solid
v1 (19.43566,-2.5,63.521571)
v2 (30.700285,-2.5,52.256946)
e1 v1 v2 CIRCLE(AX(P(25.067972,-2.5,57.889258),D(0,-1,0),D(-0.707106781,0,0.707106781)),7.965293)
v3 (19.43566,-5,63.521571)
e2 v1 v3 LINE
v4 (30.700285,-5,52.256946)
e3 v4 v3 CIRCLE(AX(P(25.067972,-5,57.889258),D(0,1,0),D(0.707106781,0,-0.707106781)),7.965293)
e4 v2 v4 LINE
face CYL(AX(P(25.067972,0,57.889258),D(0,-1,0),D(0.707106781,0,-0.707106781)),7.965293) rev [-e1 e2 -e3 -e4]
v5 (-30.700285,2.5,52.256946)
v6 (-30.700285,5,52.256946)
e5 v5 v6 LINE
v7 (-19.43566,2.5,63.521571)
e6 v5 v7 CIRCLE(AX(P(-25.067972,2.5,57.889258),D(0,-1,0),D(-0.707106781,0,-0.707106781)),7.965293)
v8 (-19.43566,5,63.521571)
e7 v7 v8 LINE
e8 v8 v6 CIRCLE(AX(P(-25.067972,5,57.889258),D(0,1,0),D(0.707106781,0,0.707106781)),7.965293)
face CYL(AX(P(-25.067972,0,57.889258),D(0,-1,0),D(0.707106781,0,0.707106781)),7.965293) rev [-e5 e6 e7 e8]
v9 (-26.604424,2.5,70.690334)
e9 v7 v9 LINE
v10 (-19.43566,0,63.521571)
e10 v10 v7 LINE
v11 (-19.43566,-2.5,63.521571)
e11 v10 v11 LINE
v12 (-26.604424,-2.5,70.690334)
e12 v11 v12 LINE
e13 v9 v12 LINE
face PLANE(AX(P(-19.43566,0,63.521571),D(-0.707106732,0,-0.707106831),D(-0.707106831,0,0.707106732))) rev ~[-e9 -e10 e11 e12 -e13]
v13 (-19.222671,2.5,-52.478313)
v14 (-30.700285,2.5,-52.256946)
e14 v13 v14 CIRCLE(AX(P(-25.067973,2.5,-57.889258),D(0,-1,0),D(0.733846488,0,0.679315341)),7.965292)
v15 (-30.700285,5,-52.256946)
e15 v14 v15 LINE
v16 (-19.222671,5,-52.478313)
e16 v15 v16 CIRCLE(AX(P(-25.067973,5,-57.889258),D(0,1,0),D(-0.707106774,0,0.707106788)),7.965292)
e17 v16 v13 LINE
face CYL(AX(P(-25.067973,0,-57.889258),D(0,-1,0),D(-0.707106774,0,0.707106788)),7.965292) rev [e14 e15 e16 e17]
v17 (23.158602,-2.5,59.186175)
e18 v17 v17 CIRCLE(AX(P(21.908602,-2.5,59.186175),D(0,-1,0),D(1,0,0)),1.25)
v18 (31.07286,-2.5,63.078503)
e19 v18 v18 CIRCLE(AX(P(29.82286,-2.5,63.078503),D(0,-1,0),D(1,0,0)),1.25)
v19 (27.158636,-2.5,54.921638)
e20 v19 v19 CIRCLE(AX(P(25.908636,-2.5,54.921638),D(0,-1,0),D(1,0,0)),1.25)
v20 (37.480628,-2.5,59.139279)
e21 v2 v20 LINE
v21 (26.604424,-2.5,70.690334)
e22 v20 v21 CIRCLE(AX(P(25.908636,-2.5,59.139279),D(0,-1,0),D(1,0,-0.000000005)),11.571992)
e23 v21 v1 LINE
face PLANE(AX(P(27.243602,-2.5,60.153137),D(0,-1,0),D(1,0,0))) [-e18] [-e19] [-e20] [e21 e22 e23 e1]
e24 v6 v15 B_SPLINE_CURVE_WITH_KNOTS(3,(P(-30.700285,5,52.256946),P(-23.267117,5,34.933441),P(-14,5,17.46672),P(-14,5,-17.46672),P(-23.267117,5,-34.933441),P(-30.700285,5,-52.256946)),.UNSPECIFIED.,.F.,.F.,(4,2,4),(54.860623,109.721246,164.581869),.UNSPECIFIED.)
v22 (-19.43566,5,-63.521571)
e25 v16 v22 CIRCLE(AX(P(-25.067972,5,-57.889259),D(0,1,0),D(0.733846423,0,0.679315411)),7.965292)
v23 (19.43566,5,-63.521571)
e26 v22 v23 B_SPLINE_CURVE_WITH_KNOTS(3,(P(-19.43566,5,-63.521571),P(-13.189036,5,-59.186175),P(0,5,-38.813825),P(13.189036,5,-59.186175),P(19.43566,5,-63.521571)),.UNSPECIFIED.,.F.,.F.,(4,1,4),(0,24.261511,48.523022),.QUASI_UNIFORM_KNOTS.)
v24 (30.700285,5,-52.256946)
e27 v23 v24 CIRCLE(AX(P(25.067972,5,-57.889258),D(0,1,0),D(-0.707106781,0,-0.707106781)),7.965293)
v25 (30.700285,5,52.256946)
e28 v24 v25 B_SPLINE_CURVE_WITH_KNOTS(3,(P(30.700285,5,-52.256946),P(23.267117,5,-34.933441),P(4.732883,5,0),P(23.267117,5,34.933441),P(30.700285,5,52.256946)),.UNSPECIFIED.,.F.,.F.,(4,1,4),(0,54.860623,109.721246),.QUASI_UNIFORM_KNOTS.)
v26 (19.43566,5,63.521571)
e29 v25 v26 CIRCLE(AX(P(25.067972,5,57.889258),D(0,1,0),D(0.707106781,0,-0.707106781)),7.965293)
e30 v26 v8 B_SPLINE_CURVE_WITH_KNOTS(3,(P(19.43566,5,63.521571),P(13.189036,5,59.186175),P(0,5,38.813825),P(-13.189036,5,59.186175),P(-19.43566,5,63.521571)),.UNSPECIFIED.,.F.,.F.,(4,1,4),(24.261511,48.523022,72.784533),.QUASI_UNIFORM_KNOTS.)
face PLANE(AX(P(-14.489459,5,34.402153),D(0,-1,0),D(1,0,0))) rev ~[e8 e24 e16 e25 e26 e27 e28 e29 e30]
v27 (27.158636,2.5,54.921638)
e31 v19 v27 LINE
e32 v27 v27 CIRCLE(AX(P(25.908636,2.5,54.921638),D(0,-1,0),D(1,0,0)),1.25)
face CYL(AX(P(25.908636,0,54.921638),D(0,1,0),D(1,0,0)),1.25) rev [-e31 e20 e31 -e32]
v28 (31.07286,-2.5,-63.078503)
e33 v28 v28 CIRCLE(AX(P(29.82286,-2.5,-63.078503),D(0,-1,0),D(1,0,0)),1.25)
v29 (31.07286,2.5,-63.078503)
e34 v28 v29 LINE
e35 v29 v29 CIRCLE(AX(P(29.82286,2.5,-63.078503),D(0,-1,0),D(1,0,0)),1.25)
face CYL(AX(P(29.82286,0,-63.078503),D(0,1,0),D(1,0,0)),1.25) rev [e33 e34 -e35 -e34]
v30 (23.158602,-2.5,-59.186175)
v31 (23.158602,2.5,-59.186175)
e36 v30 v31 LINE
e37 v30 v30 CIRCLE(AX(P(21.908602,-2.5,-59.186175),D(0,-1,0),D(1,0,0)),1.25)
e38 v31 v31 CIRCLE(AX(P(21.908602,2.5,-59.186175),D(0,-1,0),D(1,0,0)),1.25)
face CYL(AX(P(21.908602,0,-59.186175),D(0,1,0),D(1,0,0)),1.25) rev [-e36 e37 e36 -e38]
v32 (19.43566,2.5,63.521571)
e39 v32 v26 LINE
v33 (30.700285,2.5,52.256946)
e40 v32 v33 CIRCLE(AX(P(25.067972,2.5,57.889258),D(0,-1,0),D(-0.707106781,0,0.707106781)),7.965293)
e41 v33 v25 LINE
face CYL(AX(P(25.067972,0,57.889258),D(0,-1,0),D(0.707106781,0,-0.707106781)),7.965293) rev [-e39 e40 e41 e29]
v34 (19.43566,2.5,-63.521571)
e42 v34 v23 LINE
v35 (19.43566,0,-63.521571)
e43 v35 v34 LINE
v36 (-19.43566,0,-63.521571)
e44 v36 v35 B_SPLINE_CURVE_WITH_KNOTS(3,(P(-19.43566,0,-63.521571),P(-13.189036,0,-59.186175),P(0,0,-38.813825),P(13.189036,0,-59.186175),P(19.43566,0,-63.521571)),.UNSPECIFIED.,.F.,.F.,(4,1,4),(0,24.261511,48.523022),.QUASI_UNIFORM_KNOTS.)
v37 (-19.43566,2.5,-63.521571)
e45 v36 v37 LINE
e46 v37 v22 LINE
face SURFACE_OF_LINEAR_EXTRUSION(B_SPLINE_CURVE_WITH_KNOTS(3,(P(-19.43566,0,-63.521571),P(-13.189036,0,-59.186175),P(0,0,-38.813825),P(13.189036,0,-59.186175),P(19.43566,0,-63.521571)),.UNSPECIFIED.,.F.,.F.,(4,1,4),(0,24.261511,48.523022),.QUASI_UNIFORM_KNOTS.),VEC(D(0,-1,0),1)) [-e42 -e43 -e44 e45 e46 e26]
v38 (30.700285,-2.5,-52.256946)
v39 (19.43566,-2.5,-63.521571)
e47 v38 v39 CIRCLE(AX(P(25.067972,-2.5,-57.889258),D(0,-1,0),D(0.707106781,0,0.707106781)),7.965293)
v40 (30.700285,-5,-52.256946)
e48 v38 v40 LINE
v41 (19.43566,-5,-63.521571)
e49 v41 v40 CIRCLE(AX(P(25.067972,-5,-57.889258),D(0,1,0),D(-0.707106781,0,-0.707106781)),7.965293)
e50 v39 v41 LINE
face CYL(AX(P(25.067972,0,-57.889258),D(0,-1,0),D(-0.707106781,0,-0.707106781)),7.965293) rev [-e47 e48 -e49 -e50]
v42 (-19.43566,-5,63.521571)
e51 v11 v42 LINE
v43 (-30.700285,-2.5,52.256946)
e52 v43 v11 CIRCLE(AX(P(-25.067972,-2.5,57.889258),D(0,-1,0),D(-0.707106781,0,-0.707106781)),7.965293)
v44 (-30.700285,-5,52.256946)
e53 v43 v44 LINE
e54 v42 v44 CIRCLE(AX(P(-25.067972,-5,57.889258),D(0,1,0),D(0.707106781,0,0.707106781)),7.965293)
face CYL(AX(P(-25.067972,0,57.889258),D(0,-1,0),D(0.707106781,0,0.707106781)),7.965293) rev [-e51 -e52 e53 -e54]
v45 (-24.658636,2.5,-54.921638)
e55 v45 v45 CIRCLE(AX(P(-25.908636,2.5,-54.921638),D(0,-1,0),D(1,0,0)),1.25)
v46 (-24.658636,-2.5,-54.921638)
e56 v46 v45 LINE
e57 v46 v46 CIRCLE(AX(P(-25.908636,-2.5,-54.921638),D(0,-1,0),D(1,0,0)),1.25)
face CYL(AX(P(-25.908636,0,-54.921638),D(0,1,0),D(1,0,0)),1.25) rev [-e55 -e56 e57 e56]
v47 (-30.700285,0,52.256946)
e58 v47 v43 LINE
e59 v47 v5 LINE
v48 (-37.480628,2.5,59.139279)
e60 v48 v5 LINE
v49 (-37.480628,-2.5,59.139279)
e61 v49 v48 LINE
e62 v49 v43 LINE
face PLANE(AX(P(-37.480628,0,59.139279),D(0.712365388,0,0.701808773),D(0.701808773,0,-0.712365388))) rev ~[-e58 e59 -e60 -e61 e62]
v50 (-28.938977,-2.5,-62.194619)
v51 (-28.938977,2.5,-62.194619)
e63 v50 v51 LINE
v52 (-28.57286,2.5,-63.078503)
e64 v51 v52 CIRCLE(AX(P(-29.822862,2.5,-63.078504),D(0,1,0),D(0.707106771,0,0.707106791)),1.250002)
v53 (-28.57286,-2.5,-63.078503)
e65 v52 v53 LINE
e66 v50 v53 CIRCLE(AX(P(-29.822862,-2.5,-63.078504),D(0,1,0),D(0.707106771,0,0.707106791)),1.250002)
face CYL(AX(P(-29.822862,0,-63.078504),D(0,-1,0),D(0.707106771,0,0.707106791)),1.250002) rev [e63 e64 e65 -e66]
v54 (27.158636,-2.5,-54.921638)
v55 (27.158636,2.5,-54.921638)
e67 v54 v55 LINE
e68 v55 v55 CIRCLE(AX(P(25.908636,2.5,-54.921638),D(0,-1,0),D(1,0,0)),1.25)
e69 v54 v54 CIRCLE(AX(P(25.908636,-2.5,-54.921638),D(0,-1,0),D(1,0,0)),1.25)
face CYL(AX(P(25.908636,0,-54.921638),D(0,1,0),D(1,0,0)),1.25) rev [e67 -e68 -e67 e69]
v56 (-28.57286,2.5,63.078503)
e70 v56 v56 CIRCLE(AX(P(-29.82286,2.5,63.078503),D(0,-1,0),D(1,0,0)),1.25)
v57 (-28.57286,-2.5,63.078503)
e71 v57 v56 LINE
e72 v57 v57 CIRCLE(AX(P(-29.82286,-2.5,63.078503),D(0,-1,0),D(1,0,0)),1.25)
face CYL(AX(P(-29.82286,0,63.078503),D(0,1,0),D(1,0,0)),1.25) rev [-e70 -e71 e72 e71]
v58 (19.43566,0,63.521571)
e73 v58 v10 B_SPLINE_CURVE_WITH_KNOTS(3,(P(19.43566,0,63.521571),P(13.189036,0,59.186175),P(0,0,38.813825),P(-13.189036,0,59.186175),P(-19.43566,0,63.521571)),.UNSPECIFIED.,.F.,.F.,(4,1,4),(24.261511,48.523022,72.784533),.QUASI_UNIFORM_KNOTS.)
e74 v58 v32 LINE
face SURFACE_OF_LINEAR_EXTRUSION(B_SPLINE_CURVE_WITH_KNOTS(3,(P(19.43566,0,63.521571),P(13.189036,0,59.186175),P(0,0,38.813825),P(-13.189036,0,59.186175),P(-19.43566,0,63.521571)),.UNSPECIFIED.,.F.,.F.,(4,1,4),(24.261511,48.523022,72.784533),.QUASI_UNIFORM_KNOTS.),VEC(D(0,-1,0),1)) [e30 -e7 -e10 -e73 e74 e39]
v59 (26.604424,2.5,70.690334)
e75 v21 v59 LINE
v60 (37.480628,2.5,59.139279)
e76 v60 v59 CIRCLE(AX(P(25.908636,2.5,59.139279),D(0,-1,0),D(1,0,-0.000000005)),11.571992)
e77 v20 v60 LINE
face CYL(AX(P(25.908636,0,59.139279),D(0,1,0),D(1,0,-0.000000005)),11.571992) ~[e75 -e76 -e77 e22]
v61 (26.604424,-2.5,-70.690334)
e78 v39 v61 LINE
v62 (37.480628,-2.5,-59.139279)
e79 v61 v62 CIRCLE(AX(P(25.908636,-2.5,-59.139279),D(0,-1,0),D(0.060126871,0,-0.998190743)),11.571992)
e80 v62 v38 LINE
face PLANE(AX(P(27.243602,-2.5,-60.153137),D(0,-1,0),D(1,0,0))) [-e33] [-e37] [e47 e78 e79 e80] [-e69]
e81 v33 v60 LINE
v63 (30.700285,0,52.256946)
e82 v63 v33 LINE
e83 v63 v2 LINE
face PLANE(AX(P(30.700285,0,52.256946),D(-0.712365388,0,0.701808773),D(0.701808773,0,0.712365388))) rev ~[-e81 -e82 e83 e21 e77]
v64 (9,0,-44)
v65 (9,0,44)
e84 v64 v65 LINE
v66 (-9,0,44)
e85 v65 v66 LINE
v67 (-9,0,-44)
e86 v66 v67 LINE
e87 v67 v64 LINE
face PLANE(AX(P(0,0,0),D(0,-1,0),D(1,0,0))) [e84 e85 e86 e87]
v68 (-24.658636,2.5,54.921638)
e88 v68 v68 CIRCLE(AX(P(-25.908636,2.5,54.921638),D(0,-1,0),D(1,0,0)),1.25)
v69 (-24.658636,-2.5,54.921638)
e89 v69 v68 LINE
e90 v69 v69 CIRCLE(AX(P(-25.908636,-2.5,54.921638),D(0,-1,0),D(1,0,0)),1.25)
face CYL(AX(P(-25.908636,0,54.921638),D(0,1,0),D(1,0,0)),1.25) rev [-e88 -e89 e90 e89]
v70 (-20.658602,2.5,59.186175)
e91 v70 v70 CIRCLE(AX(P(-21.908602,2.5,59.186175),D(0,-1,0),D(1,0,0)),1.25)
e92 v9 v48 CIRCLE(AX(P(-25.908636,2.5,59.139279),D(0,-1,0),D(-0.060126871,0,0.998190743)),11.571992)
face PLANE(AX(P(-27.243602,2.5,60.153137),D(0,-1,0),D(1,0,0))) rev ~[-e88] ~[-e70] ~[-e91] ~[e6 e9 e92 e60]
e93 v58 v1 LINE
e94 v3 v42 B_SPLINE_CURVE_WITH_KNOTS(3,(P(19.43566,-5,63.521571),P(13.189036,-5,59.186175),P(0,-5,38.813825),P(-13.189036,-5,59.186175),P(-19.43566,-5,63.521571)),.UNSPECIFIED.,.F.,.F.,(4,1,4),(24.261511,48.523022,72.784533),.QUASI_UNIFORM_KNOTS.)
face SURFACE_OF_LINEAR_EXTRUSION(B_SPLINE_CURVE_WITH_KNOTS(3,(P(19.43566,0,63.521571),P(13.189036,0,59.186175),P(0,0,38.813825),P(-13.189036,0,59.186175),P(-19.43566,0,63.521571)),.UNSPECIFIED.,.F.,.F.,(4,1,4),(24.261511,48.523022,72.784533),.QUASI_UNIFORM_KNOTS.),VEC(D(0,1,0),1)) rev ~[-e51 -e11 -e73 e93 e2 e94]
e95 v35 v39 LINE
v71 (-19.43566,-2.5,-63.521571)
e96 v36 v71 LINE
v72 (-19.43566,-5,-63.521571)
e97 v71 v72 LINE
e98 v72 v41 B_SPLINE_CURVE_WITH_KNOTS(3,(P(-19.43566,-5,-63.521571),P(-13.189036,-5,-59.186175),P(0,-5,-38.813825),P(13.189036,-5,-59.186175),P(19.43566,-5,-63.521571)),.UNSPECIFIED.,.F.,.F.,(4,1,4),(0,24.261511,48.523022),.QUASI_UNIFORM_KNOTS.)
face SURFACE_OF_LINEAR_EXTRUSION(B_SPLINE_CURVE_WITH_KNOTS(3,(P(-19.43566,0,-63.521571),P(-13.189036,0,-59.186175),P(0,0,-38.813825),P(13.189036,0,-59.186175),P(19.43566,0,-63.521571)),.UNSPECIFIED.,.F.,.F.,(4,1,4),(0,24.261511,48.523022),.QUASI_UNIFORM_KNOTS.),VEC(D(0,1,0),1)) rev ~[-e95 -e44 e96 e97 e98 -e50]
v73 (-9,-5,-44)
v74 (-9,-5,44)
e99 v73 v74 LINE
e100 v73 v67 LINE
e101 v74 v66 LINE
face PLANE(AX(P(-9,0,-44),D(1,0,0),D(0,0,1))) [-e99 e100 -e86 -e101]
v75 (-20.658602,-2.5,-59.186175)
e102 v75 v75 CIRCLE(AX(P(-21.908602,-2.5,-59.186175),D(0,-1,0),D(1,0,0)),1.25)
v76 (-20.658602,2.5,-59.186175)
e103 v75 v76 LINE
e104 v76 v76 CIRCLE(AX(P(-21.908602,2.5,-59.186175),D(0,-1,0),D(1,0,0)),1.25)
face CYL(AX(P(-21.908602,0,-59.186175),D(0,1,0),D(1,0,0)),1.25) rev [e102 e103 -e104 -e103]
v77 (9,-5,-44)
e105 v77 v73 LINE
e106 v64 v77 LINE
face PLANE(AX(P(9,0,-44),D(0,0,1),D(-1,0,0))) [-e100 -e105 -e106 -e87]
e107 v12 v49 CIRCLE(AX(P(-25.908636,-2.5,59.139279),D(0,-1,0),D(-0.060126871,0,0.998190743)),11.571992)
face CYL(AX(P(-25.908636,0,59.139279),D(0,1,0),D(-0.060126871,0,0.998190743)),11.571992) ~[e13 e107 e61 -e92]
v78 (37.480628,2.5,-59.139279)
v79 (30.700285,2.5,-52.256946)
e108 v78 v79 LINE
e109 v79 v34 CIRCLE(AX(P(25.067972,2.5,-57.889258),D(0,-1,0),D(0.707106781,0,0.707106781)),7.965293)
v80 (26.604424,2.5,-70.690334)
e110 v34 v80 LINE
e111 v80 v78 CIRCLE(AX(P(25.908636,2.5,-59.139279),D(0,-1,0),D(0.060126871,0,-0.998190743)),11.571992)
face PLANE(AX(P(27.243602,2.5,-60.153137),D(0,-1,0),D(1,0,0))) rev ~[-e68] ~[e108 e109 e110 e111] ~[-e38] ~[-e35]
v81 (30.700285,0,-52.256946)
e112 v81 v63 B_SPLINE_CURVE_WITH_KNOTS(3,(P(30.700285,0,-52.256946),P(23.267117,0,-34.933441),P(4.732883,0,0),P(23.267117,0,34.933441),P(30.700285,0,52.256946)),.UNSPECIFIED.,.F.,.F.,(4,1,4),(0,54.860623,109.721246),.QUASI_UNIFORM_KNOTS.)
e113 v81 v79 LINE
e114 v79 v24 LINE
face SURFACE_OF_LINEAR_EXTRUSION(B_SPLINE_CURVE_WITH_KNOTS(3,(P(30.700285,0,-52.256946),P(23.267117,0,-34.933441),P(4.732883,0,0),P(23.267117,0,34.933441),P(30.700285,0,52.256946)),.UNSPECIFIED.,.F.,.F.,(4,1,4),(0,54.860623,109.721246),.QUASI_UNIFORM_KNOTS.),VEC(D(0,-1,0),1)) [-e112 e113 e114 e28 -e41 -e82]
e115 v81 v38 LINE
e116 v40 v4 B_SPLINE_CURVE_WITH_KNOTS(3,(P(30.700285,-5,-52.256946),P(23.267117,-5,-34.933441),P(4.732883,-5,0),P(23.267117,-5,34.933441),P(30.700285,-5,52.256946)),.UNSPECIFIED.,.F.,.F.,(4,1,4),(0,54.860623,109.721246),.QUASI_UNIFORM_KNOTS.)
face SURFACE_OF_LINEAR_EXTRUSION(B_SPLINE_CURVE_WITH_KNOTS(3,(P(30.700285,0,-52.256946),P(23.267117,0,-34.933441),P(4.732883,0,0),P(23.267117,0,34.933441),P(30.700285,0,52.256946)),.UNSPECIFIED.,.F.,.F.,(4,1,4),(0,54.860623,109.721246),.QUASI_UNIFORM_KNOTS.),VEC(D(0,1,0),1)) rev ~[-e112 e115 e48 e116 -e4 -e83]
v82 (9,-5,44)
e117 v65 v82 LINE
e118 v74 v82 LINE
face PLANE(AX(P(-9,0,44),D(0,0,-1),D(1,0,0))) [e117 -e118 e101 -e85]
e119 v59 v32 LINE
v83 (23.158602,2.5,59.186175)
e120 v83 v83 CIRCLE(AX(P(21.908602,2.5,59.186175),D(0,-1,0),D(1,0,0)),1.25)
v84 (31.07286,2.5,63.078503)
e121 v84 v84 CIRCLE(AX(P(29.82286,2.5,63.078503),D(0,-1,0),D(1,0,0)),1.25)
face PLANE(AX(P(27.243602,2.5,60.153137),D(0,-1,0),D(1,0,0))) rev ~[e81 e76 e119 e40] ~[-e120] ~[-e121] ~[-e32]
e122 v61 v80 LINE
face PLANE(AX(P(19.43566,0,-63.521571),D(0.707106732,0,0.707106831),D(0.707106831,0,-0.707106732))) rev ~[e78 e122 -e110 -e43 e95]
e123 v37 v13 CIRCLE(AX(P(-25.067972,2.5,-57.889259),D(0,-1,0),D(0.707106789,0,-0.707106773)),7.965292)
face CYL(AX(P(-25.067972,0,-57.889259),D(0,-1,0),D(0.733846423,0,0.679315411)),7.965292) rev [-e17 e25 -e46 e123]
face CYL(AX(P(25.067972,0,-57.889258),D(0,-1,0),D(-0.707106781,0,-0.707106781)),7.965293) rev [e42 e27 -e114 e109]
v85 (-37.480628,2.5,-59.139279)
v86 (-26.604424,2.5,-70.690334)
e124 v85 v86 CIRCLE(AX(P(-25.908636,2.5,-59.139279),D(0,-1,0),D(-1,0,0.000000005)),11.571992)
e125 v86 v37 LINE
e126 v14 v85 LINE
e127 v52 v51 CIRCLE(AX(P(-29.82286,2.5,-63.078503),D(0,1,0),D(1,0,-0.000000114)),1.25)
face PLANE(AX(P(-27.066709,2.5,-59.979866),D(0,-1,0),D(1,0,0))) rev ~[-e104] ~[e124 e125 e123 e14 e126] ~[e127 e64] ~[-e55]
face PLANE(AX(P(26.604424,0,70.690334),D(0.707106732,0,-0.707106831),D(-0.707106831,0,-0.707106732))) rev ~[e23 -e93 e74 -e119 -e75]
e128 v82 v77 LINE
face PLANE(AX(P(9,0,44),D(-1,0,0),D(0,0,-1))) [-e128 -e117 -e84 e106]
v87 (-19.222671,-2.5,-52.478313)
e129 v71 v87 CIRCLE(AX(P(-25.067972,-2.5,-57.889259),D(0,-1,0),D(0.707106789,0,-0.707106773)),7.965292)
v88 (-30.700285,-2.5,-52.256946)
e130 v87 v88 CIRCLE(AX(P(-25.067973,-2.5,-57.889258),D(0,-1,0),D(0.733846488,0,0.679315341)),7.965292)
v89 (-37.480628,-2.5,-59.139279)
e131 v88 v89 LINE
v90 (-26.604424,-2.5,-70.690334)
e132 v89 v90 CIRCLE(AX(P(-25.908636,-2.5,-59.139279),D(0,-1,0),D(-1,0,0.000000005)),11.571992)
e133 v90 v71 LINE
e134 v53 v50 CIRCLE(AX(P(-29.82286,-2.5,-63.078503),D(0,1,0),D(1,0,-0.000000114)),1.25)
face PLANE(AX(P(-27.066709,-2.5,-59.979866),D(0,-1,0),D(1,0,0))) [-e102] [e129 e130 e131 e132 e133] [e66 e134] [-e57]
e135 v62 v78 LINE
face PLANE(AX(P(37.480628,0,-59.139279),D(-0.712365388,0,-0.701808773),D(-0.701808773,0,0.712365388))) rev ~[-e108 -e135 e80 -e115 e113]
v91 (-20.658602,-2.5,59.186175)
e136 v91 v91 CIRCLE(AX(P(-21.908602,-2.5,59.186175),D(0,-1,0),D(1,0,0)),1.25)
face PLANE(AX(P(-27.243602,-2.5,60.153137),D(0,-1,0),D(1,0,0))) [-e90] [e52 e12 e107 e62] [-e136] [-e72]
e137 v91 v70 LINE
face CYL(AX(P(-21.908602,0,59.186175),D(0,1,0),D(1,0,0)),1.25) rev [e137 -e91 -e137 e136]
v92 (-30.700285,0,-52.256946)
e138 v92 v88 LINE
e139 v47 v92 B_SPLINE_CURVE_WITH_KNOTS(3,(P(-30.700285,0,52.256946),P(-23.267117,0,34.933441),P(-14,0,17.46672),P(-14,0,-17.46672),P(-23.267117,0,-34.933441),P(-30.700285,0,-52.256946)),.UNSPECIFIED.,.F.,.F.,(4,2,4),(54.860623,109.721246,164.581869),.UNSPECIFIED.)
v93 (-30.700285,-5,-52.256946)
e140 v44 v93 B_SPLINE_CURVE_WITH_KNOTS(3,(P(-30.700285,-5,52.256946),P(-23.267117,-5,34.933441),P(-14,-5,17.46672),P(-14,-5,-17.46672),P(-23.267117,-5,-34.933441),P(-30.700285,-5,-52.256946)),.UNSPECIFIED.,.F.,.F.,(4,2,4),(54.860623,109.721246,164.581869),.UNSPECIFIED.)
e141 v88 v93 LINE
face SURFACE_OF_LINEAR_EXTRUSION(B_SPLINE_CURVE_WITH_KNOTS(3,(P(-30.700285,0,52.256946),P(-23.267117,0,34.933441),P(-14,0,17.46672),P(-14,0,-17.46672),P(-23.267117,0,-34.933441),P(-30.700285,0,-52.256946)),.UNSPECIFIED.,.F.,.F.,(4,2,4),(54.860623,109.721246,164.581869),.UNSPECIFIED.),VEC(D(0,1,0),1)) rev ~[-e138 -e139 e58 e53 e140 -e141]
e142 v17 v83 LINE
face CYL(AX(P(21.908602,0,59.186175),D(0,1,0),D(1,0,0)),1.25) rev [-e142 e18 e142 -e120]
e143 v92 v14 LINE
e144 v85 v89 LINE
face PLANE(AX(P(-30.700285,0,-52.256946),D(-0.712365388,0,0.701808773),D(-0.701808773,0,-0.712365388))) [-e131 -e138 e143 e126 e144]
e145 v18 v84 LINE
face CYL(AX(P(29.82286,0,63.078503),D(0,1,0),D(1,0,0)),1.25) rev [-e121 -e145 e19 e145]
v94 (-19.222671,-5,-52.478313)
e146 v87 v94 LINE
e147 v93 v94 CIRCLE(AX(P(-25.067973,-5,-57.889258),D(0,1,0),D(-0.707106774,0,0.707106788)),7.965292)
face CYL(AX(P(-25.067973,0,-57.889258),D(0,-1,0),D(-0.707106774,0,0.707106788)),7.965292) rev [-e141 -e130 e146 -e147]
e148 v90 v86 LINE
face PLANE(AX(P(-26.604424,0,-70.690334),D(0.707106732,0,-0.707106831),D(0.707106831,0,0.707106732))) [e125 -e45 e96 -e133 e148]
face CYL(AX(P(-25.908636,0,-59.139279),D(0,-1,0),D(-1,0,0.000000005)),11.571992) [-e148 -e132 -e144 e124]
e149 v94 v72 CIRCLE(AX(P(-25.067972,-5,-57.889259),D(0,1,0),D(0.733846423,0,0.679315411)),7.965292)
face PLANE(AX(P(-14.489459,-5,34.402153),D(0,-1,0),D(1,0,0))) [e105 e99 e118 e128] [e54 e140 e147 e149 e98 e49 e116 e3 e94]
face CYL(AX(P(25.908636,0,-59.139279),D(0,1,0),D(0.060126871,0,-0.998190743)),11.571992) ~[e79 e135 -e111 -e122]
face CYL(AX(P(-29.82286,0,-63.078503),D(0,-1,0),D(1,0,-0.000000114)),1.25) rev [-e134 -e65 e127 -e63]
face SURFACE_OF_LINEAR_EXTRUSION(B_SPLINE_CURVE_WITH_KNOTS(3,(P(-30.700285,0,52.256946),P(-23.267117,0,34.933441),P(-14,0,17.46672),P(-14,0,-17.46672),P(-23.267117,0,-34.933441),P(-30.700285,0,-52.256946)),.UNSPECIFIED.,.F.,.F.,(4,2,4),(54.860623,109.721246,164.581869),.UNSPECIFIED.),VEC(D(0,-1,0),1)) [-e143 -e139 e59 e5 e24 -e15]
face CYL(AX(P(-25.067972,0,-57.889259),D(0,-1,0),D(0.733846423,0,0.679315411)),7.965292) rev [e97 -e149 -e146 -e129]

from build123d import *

# Parameters (mm, degrees)
F1_DEPTH = 5
F2_DEPTH = 5
F0_R     = 1.25
F3_DEPTH = 2.5


with BuildPart() as f1:
    # F0 (on Front) → F1 (new body, symmetric)
    with BuildSketch(Plane.XZ):
        with BuildLine():
            Line((-9, 0), (-9, 44))
            Line((-9, 44), (0, 44))
            Line((0, 44), (0, 49))
            add(Edge.make_bspline(
                [(-19.43566, 63.521571), (-13.189036, 59.186175), (-6.594518, 49), (0, 49)],
                knots=[0, 0, 0, 0, 24.261511, 24.261511, 24.261511, 24.261511], degree=3))
            ThreePointArc((-19.43566, 63.521571), (-19.43566, 52.256946), (-30.700285, 52.256946))
            add(Edge.make_bspline(
                [(-14, 0), (-14, 17.46672), (-23.267117, 34.933441), (-30.700285, 52.256946)],
                knots=[54.860623, 54.860623, 54.860623, 54.860623, 109.721246, 109.721246, 109.721246, 109.721246], degree=3))
            Line((-14, 0), (-9, 0))
        make_face()
        with BuildLine():
            Line((0, 49), (0, 44))
            Line((0, 44), (9, 44))
            Line((9, 44), (9, -44))
            Line((9, -44), (-9, -44))
            Line((-9, -44), (-9, 0))
            Line((-9, 0), (-14, 0))
            add(Edge.make_bspline(
                [(-30.700285, -52.256946), (-23.267117, -34.933441), (-14, -17.46672), (-14, 0)],
                knots=[0, 0, 0, 0, 54.860623, 54.860623, 54.860623, 54.860623], degree=3))
            ThreePointArc((-30.700285, -52.256946), (-24.914376, -49.925447), (-19.222671, -52.478313))
            ThreePointArc((-19.222671, -52.478313), (-17.104161, -58.042855), (-19.43566, -63.521571))
            add(Edge.make_bspline(
                [(-19.43566, -63.521571), (-13.189036, -59.186175), (0, -38.813825), (13.189036, -59.186175), (19.43566, -63.521571)],
                knots=[0, 0, 0, 0, 24.261511, 48.523022, 48.523022, 48.523022, 48.523022], degree=3))
            ThreePointArc((19.43566, -63.521571), (19.43566, -52.256946), (30.700285, -52.256946))
            add(Edge.make_bspline(
                [(30.700285, -52.256946), (23.267117, -34.933441), (4.732883, 0), (23.267117, 34.933441), (30.700285, 52.256946)],
                knots=[0, 0, 0, 0, 54.860623, 109.721246, 109.721246, 109.721246, 109.721246], degree=3))
            ThreePointArc((30.700285, 52.256946), (19.43566, 52.256946), (19.43566, 63.521571))
            add(Edge.make_bspline(
                [(0, 49), (6.594518, 49), (13.189036, 59.186175), (19.43566, 63.521571)],
                knots=[24.261511, 24.261511, 24.261511, 24.261511, 48.523022, 48.523022, 48.523022, 48.523022], degree=3))
        make_face()
    extrude(amount=F1_DEPTH, both=True)

    # F0 (on Front) → F2 (join)
    with BuildSketch(Plane.XZ):
        Polygon((0, 44), (-9, 44), (-9, 0), (-9, -44), (9, -44), (9, 44), align=None)
    extrude(amount=-F2_DEPTH)

    # F0 (on Front) → F3 (join, symmetric)
    with BuildSketch(Plane.XZ):
        with BuildLine():
            ThreePointArc((-30.700285, 52.256946), (-19.43566, 52.256946), (-19.43566, 63.521571))
            Line((-19.43566, 63.521571), (-26.604424, 70.690334))
            ThreePointArc((-26.604424, 70.690334), (-34.333678, 67.072101), (-37.480628, 59.139279))
            Line((-37.480628, 59.139279), (-30.700285, 52.256946))
        make_face()
        with Locations((-29.82286, 63.078503)):
            Circle(F0_R, mode=Mode.SUBTRACT)
        with Locations((-25.908636, 54.921638)):
            Circle(F0_R, mode=Mode.SUBTRACT)
        with Locations((-21.908602, 59.186175)):
            Circle(F0_R, mode=Mode.SUBTRACT)
        with BuildLine():
            Line((26.604424, 70.690334), (19.43566, 63.521571))
            ThreePointArc((19.43566, 63.521571), (19.43566, 52.256946), (30.700285, 52.256946))
            Line((30.700285, 52.256946), (37.480628, 59.139279))
            ThreePointArc((37.480628, 59.139279), (34.333678, 67.072101), (26.604424, 70.690334))
        make_face()
        with Locations((21.908602, 59.186175)):
            Circle(F0_R, mode=Mode.SUBTRACT)
        with Locations((25.908636, 54.921638)):
            Circle(F0_R, mode=Mode.SUBTRACT)
        with Locations((29.82286, 63.078503)):
            Circle(F0_R, mode=Mode.SUBTRACT)
        with BuildLine():
            Line((37.480628, -59.139279), (30.700285, -52.256946))
            ThreePointArc((30.700285, -52.256946), (19.43566, -52.256946), (19.43566, -63.521571))
            Line((19.43566, -63.521571), (26.604424, -70.690334))
            ThreePointArc((26.604424, -70.690334), (34.333678, -67.072101), (37.480628, -59.139279))
        make_face()
        with Locations((21.908602, -59.186175)):
            Circle(F0_R, mode=Mode.SUBTRACT)
        with Locations((25.908636, -54.921638)):
            Circle(F0_R, mode=Mode.SUBTRACT)
        with Locations((29.82286, -63.078503)):
            Circle(F0_R, mode=Mode.SUBTRACT)
        with BuildLine():
            ThreePointArc((-19.222671, -52.478313), (-24.914376, -49.925447), (-30.700285, -52.256946))
            Line((-30.700285, -52.256946), (-37.480628, -59.139279))
            ThreePointArc((-37.480628, -59.139279), (-34.333678, -67.072101), (-26.604424, -70.690334))
            Line((-26.604424, -70.690334), (-19.43566, -63.521571))
            ThreePointArc((-19.43566, -63.521571), (-17.104161, -58.042855), (-19.222671, -52.478313))
        make_face()
        with BuildLine():
            ThreePointArc((-28.57286, -63.078503), (-30.977709, -63.556857), (-28.938977, -62.194619))
            ThreePointArc((-28.938977, -62.194619), (-28.668011, -62.600148), (-28.57286, -63.078503))
        make_face(mode=Mode.SUBTRACT)
        with Locations((-25.908636, -54.921638)):
            Circle(F0_R, mode=Mode.SUBTRACT)
        with Locations((-21.908602, -59.186175)):
            Circle(F0_R, mode=Mode.SUBTRACT)
    extrude(amount=F3_DEPTH, both=True)


solid = f1.part
